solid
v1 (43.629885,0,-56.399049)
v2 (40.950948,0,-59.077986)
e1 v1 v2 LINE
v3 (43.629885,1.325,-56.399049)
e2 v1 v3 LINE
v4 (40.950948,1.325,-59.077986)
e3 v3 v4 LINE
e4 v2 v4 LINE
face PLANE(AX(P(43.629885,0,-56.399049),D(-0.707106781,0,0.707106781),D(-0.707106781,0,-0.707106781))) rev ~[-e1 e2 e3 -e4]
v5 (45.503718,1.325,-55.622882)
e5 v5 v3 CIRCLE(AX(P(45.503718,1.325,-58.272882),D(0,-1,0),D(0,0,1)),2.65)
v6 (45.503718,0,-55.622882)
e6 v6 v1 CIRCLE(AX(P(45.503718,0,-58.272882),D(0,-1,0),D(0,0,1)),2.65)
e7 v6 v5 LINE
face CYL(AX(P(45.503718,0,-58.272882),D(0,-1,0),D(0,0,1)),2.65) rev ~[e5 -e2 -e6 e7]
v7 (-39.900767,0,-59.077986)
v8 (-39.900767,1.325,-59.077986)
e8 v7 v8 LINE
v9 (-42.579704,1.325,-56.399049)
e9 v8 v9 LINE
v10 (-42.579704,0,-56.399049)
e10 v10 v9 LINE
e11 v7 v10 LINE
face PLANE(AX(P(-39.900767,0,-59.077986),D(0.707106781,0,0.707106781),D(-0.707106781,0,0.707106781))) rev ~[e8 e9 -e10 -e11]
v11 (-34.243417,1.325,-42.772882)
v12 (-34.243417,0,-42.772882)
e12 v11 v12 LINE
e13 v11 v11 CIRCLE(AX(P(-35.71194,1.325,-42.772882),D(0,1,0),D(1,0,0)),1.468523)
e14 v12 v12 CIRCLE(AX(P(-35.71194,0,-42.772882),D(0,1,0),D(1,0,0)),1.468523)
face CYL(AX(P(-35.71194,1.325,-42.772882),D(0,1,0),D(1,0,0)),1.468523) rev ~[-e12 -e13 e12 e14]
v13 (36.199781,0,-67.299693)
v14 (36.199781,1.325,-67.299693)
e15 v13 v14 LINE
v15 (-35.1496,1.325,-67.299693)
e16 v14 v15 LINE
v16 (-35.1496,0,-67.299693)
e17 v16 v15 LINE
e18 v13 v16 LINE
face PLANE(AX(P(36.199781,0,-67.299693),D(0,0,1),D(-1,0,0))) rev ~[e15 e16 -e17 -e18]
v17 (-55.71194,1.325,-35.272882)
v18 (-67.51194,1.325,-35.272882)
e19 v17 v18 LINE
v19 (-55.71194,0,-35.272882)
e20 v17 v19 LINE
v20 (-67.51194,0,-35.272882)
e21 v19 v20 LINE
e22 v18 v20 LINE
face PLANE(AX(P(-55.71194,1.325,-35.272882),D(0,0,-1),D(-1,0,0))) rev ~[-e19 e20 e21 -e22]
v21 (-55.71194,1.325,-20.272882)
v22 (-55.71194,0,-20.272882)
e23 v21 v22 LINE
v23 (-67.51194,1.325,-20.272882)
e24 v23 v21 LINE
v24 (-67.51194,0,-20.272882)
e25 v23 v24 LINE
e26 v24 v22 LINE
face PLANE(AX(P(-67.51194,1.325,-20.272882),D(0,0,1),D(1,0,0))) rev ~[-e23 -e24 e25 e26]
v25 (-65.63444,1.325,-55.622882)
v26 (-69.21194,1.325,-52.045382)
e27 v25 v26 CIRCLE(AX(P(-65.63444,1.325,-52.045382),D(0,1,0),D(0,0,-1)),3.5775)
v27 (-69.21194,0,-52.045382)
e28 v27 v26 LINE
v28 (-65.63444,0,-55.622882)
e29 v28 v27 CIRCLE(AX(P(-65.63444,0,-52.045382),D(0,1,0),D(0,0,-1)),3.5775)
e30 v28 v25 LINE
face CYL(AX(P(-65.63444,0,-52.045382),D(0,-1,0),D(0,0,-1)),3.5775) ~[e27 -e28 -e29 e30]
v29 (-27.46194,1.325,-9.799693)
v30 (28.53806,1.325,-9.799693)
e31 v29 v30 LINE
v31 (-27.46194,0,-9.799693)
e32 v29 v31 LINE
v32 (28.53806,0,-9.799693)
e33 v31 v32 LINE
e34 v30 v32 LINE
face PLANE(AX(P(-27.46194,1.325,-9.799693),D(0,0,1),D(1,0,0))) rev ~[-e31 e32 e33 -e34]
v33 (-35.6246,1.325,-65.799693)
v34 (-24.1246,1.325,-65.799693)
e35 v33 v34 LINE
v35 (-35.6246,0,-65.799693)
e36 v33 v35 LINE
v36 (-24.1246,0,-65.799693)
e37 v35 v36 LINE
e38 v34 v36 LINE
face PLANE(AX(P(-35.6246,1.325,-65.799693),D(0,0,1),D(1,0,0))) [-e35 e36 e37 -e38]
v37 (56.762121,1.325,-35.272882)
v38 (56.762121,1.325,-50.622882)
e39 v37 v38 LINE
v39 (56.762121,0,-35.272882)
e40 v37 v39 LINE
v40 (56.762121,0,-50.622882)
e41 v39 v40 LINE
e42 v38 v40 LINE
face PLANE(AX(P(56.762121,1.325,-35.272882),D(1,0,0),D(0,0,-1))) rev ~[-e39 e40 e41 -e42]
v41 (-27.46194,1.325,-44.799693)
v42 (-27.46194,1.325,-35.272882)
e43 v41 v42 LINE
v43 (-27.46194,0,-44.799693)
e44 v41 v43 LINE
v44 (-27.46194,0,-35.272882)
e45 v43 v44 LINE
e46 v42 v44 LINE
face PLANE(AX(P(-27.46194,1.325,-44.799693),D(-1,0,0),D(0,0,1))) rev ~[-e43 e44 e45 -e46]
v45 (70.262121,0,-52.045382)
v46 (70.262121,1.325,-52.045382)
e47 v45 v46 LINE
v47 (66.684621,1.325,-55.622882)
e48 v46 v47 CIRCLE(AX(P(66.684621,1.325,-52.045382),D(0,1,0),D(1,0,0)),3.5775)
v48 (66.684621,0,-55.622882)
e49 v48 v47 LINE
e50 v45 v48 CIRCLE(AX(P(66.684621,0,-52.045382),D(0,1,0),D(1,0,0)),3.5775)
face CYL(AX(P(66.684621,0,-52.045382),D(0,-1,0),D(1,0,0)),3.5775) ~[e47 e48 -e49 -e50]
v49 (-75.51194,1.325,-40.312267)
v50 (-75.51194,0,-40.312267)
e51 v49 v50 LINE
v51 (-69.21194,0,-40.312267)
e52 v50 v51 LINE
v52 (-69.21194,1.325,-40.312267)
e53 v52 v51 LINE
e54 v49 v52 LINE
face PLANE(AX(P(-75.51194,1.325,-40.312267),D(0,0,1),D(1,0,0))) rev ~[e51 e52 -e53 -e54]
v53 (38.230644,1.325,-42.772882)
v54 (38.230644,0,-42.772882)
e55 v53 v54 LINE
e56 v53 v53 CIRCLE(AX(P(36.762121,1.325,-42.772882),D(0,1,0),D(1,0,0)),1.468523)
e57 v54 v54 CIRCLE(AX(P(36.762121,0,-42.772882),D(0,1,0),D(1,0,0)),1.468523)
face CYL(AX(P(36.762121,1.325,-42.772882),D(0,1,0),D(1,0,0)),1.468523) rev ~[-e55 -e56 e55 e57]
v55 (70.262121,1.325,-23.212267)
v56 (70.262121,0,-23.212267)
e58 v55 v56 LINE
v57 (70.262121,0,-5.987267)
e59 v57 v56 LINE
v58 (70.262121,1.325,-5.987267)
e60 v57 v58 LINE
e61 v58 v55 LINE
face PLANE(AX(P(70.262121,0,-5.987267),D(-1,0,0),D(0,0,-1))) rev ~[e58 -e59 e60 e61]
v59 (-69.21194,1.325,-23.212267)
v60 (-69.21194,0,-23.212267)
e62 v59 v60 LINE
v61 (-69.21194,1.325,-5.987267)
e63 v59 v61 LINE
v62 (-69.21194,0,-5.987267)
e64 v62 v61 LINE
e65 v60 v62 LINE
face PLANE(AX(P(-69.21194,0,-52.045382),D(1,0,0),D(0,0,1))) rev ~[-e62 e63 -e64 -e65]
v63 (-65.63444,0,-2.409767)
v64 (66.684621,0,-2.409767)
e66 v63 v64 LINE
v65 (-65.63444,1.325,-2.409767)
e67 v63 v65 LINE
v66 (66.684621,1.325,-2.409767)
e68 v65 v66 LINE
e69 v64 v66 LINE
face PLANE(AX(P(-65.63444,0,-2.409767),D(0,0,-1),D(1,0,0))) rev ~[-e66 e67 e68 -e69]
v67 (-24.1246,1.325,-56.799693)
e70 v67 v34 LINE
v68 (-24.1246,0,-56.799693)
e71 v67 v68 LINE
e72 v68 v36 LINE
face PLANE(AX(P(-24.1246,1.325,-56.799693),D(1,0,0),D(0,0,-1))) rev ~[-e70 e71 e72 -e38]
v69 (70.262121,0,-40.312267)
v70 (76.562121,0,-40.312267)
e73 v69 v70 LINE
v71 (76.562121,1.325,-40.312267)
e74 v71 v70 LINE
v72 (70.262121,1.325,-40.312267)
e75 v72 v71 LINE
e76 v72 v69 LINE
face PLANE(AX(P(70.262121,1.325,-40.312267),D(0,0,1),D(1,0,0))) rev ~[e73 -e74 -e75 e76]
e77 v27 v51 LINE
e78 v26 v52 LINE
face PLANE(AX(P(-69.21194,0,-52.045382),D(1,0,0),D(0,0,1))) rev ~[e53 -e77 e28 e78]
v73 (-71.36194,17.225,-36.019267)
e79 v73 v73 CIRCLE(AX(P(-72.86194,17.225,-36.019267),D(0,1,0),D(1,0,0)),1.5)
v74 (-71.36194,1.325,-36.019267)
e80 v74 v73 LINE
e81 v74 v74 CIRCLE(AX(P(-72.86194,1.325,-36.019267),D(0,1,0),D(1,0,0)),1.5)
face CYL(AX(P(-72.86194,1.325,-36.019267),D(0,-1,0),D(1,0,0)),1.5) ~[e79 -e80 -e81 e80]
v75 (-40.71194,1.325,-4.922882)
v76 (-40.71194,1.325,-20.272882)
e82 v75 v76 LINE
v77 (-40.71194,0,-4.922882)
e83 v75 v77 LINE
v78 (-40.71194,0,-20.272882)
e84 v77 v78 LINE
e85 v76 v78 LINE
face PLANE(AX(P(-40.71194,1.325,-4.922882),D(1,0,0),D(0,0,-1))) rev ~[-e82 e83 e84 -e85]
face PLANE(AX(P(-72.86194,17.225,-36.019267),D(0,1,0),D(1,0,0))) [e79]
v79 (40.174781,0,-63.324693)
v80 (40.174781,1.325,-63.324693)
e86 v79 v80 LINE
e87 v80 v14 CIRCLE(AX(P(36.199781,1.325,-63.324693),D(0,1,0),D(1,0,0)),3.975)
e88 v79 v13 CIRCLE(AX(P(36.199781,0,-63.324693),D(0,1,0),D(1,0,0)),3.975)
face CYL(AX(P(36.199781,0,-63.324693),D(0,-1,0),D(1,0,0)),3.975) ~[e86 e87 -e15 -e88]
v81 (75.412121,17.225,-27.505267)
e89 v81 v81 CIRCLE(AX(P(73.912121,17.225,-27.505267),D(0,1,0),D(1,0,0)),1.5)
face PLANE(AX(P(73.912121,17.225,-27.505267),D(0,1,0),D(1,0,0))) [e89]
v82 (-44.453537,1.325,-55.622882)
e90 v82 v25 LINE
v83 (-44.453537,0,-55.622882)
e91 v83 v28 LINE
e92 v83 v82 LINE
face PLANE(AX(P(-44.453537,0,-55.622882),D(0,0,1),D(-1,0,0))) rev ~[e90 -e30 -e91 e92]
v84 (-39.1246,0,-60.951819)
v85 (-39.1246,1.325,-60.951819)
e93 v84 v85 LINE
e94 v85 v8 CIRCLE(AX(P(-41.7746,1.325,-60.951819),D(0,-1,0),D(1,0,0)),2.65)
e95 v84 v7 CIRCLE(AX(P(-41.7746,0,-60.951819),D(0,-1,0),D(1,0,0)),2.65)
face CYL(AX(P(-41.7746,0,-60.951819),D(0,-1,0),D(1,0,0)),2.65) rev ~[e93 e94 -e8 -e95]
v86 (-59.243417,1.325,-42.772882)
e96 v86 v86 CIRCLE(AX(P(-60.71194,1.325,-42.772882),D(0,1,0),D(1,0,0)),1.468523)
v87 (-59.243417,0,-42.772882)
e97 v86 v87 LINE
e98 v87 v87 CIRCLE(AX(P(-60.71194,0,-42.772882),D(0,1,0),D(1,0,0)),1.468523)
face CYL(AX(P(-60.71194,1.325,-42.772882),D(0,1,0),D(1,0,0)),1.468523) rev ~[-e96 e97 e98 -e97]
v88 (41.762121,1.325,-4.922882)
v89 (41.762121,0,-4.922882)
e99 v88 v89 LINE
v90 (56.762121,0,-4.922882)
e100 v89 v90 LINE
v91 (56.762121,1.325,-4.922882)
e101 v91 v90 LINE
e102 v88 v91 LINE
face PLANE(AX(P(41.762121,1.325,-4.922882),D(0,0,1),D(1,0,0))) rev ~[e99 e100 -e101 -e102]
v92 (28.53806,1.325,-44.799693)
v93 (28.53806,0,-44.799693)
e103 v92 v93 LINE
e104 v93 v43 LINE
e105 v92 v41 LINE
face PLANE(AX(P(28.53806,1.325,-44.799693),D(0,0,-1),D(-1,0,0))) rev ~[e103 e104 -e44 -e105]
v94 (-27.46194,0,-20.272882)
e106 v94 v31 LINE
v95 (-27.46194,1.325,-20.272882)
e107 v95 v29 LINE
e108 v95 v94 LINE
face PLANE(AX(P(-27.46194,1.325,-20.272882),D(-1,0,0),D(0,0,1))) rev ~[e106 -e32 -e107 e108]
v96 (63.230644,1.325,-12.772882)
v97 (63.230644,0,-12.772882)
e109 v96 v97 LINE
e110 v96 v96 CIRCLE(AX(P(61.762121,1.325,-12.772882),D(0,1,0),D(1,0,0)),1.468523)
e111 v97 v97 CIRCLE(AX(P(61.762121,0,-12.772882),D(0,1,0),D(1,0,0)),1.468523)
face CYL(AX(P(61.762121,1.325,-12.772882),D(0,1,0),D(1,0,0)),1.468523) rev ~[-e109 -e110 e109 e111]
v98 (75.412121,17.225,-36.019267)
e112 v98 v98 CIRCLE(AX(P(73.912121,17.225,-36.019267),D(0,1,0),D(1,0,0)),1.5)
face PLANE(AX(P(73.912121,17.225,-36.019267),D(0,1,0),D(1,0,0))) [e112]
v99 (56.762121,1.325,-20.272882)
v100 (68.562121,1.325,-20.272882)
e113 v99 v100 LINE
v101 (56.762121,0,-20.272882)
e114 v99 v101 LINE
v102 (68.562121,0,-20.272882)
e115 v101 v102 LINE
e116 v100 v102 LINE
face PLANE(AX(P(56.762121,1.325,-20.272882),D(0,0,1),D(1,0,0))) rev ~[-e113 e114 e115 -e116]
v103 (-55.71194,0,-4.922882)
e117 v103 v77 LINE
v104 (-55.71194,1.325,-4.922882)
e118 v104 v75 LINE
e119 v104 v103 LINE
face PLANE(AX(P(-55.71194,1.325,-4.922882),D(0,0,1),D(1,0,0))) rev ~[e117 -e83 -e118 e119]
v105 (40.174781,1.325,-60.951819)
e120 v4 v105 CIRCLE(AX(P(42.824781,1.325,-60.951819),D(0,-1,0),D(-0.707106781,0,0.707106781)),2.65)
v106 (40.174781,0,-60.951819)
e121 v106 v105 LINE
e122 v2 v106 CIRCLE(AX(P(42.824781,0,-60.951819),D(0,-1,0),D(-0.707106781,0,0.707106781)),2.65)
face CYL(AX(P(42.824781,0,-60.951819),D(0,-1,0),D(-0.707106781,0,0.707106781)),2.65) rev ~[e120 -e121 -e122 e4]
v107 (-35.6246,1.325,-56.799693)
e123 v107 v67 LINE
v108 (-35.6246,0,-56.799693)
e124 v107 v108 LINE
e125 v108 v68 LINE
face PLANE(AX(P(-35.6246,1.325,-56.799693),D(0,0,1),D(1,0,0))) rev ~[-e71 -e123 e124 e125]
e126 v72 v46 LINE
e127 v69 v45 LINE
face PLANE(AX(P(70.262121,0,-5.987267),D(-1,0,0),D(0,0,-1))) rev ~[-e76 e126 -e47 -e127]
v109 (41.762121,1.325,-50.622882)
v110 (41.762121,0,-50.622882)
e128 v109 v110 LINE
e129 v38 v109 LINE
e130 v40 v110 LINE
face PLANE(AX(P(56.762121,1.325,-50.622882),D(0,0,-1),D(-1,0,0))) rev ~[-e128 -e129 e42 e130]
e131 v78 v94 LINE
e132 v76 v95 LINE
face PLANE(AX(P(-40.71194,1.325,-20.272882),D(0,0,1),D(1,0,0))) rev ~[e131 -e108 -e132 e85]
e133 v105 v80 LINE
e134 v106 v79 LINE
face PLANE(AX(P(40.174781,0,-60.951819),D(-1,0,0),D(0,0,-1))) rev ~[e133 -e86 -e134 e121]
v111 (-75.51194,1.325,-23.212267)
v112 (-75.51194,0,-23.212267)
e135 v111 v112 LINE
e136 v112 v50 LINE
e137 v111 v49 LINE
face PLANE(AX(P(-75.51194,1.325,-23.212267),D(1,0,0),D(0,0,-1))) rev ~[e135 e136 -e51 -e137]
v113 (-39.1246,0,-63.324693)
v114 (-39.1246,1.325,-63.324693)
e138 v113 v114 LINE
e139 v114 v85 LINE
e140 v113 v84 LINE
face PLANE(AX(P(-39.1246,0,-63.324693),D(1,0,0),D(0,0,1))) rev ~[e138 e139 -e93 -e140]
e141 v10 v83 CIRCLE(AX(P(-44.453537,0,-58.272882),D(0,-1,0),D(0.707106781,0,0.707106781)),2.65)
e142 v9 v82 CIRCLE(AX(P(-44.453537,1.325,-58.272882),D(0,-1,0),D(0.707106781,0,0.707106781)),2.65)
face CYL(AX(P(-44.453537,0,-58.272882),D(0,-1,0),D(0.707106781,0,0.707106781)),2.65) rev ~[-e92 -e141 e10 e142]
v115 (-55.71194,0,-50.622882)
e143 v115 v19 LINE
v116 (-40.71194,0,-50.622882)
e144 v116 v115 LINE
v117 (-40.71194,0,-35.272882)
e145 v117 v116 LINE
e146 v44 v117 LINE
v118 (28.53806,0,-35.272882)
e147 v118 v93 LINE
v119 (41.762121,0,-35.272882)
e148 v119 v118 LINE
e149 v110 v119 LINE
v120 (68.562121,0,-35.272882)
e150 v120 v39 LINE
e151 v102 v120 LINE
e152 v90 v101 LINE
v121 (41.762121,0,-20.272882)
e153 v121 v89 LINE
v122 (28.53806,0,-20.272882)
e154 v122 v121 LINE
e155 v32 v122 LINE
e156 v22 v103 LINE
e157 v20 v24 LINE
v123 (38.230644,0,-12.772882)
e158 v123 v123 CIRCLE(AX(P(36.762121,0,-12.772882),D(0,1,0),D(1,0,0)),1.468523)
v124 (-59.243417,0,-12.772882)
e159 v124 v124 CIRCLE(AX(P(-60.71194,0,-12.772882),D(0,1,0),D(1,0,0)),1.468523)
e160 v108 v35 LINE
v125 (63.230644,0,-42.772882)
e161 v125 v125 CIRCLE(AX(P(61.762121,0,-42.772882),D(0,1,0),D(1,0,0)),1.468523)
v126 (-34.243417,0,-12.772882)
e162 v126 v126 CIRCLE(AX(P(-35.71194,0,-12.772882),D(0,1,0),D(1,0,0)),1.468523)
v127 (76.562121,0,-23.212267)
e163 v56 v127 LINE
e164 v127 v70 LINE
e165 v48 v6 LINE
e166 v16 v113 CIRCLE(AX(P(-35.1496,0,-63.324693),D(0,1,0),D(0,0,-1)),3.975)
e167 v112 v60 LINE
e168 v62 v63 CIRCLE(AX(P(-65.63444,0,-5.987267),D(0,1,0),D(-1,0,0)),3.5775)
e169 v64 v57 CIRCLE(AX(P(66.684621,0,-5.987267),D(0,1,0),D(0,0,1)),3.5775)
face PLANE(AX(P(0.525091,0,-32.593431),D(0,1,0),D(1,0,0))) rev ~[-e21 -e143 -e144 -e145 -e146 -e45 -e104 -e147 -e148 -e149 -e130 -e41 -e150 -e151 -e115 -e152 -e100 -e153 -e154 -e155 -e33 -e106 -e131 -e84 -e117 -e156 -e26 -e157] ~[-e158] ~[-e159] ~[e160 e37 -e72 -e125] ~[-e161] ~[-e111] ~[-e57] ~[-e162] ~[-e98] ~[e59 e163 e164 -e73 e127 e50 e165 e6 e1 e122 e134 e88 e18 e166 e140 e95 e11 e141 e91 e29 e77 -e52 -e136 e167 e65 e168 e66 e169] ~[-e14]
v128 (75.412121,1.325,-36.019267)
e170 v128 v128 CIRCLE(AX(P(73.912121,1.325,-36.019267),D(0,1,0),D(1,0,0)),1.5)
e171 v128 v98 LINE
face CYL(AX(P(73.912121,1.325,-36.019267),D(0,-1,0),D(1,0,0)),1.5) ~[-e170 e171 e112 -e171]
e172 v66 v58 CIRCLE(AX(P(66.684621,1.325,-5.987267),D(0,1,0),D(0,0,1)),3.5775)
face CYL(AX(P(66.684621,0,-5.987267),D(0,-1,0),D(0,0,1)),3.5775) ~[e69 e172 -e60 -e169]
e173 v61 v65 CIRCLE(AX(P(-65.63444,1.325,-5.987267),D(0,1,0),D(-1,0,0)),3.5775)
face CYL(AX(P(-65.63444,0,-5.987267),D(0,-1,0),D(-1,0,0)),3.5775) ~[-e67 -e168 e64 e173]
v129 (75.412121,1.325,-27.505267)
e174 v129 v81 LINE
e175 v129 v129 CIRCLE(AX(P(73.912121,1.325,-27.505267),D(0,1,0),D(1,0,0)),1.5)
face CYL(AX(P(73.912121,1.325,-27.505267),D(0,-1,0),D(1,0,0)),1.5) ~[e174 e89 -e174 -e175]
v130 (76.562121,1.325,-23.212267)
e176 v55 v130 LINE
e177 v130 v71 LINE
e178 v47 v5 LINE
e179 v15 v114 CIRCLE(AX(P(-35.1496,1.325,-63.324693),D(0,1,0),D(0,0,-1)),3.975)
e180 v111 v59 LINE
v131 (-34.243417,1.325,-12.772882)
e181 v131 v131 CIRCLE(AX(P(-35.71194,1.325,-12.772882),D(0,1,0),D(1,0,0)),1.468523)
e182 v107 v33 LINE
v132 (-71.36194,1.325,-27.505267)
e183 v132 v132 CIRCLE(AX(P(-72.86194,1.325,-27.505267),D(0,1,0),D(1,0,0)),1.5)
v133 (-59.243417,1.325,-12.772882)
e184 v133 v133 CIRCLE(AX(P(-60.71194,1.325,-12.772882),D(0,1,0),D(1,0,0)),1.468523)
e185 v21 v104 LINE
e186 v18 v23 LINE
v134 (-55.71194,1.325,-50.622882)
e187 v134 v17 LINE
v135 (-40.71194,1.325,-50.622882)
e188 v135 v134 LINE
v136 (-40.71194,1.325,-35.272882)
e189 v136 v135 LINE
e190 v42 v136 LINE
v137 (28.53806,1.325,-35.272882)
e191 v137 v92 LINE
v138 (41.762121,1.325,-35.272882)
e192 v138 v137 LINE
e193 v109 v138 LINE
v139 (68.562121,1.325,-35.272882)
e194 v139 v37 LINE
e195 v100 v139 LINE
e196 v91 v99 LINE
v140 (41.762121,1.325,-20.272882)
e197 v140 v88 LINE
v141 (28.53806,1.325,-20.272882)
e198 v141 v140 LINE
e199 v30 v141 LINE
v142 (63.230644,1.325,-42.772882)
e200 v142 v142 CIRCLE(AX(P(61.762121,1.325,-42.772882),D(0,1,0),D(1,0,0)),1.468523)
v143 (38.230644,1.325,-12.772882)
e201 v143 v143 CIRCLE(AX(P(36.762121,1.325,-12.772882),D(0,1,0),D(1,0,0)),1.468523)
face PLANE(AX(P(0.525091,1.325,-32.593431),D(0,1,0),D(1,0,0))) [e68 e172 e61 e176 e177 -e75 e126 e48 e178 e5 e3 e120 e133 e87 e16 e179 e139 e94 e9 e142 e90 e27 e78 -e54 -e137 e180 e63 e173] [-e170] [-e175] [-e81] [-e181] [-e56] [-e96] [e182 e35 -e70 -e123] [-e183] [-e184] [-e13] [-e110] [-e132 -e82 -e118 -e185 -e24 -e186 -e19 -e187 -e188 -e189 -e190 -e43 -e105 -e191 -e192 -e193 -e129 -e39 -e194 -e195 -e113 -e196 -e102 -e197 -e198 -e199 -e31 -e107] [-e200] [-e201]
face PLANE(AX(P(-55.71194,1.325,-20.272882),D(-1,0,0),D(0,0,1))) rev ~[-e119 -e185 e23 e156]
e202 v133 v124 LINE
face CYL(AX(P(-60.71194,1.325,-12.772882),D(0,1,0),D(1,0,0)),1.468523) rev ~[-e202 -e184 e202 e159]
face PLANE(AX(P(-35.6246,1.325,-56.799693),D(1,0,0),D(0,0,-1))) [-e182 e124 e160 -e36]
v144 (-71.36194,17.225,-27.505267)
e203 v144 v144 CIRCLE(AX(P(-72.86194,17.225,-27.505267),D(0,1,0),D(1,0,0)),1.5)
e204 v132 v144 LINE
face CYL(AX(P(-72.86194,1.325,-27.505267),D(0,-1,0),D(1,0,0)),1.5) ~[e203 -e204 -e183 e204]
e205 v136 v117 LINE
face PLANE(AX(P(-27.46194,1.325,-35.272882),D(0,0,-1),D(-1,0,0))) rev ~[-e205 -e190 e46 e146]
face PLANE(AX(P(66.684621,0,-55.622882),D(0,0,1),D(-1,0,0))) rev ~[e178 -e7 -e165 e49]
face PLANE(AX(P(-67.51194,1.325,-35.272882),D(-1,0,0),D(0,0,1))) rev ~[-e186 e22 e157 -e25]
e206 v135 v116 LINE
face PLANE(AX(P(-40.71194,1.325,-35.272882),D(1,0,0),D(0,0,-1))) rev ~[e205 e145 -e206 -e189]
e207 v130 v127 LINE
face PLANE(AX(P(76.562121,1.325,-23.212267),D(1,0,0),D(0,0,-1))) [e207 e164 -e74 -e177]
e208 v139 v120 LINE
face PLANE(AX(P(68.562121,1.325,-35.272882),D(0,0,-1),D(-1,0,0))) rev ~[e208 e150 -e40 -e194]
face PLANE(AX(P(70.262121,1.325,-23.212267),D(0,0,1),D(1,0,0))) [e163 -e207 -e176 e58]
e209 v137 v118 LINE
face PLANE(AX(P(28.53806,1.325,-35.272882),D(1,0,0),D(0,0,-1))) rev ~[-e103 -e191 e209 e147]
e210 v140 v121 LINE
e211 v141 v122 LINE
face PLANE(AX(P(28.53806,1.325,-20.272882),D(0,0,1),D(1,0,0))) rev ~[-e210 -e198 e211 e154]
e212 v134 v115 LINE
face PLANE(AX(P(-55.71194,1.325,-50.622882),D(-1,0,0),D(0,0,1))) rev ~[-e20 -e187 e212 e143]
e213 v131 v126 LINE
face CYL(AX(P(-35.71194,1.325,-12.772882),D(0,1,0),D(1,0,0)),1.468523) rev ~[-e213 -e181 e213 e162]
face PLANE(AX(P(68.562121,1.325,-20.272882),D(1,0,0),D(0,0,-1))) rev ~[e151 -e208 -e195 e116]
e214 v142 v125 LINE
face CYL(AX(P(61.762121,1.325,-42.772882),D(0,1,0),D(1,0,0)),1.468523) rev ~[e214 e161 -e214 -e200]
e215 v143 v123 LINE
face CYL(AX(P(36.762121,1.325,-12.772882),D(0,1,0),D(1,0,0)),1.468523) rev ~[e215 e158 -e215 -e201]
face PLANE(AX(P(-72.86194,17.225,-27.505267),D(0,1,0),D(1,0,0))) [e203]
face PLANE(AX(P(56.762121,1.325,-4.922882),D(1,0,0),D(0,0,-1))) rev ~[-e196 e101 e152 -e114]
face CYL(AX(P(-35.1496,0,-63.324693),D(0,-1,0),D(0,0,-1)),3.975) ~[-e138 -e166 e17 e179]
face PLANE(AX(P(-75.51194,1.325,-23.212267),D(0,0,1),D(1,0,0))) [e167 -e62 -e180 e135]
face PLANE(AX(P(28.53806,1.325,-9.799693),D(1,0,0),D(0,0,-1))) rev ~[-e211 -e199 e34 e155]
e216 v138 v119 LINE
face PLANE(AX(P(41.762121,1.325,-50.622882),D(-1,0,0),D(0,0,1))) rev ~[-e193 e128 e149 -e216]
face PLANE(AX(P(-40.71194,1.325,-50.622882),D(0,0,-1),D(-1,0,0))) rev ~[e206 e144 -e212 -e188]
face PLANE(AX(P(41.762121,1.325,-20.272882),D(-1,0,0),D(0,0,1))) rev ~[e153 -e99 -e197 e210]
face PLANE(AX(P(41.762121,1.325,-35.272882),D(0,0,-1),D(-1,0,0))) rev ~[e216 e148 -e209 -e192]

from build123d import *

# Parameters (mm, degrees)
BOSS_EXTRUDE1_DEPTH = 5
SCALE2_SCALE        = 0.265
SKETCH6_W           = 6.3
SKETCH6_H           = 17.1
BOSS_EXTRUDE2_DEPTH = 1.325
SKETCH5_W           = 11.5
SKETCH5_H           = 9
SKETCH5_R           = 1.468522593
CUT_EXTRUDE1_DEPTH  = 1.325
SKETCH8_R           = 1.5
BOSS_EXTRUDE5_DEPTH = 15.9


with BuildPart() as part:
    # Sketch1 → Boss-Extrude1 (new body)
    with BuildSketch(Plane(origin=(0, 0, 0), x_dir=(1, 0, 0), z_dir=(0, 1, 0))):
        with BuildLine():
            Line((-247.677130459, 9.093460821), (0, 9.093460821))
            Line((0, 9.093460821), (1.981474539, 9.093460821))
            Line((1.981474539, 9.093460821), (3.962949079, 9.093460821))
            Line((3.962949079, 9.093460821), (251.640079537, 9.093460821))
            ThreePointArc((251.640079537, 9.093460821), (261.186021083, 13.047519275), (265.140079537, 22.593460821))
            Line((265.140079537, 22.593460821), (265.140079537, 87.593460821))
            Line((265.140079537, 87.593460821), (265.140079537, 152.207743366))
            Line((265.140079537, 152.207743366), (265.140079537, 196.397667024))
            ThreePointArc((265.140079537, 196.397667024), (261.186021083, 205.94360857), (251.640079537, 209.897667024))
            Line((251.640079537, 209.897667024), (171.71214435, 209.897667024))
            ThreePointArc((171.71214435, 209.897667024), (167.885310027, 210.658871699), (164.641076538, 212.826599212))
            Line((164.641076538, 212.826599212), (154.53187981, 222.935795941))
            ThreePointArc((154.53187981, 222.935795941), (152.364152296, 226.180029429), (151.602947621, 230.006863753))
            Line((151.602947621, 230.006863753), (151.602947621, 238.96110688))
            ThreePointArc((151.602947621, 238.96110688), (147.209549339, 249.567708598), (136.602947621, 253.96110688))
            Line((136.602947621, 253.96110688), (3.962949079, 253.96110688))
            Line((3.962949079, 253.96110688), (0, 253.96110688))
            Line((0, 253.96110688), (-132.639998543, 253.96110688))
            ThreePointArc((-132.639998543, 253.96110688), (-143.246600261, 249.567708598), (-147.639998543, 238.96110688))
            Line((-147.639998543, 238.96110688), (-147.639998543, 230.006863753))
            ThreePointArc((-147.639998543, 230.006863753), (-148.401203218, 226.180029429), (-150.568930731, 222.935795941))
            Line((-150.568930731, 222.935795941), (-160.67812746, 212.826599212))
            ThreePointArc((-160.67812746, 212.826599212), (-163.922360948, 210.658871699), (-167.749195272, 209.897667024))
            Line((-167.749195272, 209.897667024), (-247.677130459, 209.897667024))
            ThreePointArc((-247.677130459, 209.897667024), (-257.223072005, 205.94360857), (-261.177130459, 196.397667024))
            Line((-261.177130459, 196.397667024), (-261.177130459, 152.207743366))
            Line((-261.177130459, 152.207743366), (-261.177130459, 87.593460821))
            Line((-261.177130459, 87.593460821), (-261.177130459, 22.593460821))
            ThreePointArc((-261.177130459, 22.593460821), (-257.223072005, 13.047519275), (-247.677130459, 9.093460821))
        make_face()
    extrude(amount=BOSS_EXTRUDE1_DEPTH)


with BuildPart() as part_1:
    # Scale2: scaled about (0, 0, 0)
    add(part.part.scale(SCALE2_SCALE))

    # Sketch6 → Boss-Extrude2 (add)
    with BuildSketch(Plane(origin=(0, 1.325, 0), x_dir=(1, 0, 0), z_dir=(0, 1, 0))):
        with Locations((-72.361939572, 31.762267118)):
            Rectangle(SKETCH6_W, SKETCH6_H)
        with Locations((73.412121077, 31.762267118)):
            Rectangle(SKETCH6_W, SKETCH6_H)
    extrude(amount=-BOSS_EXTRUDE2_DEPTH)

    # Sketch5 → Cut-Extrude1 (cut)
    with BuildSketch(Plane(origin=(0, 1.325, 0), x_dir=(1, 0, 0), z_dir=(0, 1, 0))):
        Polygon((-67.511939572, 27.772881761), (-67.511939572, 20.272881761), (-55.711939572, 20.272881761), (-55.711939572, 4.922881761), (-40.711939572, 4.922881761), (-40.711939572, 20.272881761), (-27.461939572, 20.272881761), (-27.461939572, 9.799693323), (28.538060428, 9.799693323), (28.538060428, 20.272881761), (41.762121077, 20.272881761), (41.762121077, 4.922881761), (56.762121077, 4.922881761), (56.762121077, 20.272881761), (68.562121077, 20.272881761), (68.562121077, 35.272881761), (56.762121077, 35.272881761), (56.762121077, 50.622881761), (41.762121077, 50.622881761), (41.762121077, 35.272881761), (28.538060428, 35.272881761), (28.538060428, 44.799693323), (-27.461939572, 44.799693323), (-27.461939572, 35.272881761), (-40.711939572, 35.272881761), (-40.711939572, 50.622881761), (-55.711939572, 50.622881761), (-55.711939572, 35.272881761), (-67.511939572, 35.272881761), align=None)
        with Locations((-29.874599614, 61.299693323)):
            Rectangle(SKETCH5_W, SKETCH5_H)
        with Locations((-35.711939572, 42.772881761)):
            Circle(SKETCH5_R)
        with Locations((-60.711939572, 42.772881761)):
            Circle(SKETCH5_R)
        with Locations((-60.711939572, 12.772881761)):
            Circle(SKETCH5_R)
        with Locations((-35.711939572, 12.772881761)):
            Circle(SKETCH5_R)
        with Locations((36.762121077, 12.772881761)):
            Circle(SKETCH5_R)
        with Locations((61.762121077, 12.772881761)):
            Circle(SKETCH5_R)
        with Locations((36.762121077, 42.772881761)):
            Circle(SKETCH5_R)
        with Locations((61.762121077, 42.772881761)):
            Circle(SKETCH5_R)
    extrude(amount=-CUT_EXTRUDE1_DEPTH, mode=Mode.SUBTRACT)

    # Sketch8 → Boss-Extrude5 (add)
    with BuildSketch(Plane(origin=(0, 1.325, 0), x_dir=(1, 0, 0), z_dir=(0, 1, 0))):
        with Locations((-72.861939572, 36.019267118)):
            Circle(SKETCH8_R)
        with Locations((-72.861939572, 27.505267118)):
            Circle(SKETCH8_R)
        with Locations((73.912121077, 36.019267118)):
            Circle(SKETCH8_R)
        with Locations((73.912121077, 27.505267118)):
            Circle(SKETCH8_R)
    extrude(amount=BOSS_EXTRUDE5_DEPTH)


solid = part_1.part
